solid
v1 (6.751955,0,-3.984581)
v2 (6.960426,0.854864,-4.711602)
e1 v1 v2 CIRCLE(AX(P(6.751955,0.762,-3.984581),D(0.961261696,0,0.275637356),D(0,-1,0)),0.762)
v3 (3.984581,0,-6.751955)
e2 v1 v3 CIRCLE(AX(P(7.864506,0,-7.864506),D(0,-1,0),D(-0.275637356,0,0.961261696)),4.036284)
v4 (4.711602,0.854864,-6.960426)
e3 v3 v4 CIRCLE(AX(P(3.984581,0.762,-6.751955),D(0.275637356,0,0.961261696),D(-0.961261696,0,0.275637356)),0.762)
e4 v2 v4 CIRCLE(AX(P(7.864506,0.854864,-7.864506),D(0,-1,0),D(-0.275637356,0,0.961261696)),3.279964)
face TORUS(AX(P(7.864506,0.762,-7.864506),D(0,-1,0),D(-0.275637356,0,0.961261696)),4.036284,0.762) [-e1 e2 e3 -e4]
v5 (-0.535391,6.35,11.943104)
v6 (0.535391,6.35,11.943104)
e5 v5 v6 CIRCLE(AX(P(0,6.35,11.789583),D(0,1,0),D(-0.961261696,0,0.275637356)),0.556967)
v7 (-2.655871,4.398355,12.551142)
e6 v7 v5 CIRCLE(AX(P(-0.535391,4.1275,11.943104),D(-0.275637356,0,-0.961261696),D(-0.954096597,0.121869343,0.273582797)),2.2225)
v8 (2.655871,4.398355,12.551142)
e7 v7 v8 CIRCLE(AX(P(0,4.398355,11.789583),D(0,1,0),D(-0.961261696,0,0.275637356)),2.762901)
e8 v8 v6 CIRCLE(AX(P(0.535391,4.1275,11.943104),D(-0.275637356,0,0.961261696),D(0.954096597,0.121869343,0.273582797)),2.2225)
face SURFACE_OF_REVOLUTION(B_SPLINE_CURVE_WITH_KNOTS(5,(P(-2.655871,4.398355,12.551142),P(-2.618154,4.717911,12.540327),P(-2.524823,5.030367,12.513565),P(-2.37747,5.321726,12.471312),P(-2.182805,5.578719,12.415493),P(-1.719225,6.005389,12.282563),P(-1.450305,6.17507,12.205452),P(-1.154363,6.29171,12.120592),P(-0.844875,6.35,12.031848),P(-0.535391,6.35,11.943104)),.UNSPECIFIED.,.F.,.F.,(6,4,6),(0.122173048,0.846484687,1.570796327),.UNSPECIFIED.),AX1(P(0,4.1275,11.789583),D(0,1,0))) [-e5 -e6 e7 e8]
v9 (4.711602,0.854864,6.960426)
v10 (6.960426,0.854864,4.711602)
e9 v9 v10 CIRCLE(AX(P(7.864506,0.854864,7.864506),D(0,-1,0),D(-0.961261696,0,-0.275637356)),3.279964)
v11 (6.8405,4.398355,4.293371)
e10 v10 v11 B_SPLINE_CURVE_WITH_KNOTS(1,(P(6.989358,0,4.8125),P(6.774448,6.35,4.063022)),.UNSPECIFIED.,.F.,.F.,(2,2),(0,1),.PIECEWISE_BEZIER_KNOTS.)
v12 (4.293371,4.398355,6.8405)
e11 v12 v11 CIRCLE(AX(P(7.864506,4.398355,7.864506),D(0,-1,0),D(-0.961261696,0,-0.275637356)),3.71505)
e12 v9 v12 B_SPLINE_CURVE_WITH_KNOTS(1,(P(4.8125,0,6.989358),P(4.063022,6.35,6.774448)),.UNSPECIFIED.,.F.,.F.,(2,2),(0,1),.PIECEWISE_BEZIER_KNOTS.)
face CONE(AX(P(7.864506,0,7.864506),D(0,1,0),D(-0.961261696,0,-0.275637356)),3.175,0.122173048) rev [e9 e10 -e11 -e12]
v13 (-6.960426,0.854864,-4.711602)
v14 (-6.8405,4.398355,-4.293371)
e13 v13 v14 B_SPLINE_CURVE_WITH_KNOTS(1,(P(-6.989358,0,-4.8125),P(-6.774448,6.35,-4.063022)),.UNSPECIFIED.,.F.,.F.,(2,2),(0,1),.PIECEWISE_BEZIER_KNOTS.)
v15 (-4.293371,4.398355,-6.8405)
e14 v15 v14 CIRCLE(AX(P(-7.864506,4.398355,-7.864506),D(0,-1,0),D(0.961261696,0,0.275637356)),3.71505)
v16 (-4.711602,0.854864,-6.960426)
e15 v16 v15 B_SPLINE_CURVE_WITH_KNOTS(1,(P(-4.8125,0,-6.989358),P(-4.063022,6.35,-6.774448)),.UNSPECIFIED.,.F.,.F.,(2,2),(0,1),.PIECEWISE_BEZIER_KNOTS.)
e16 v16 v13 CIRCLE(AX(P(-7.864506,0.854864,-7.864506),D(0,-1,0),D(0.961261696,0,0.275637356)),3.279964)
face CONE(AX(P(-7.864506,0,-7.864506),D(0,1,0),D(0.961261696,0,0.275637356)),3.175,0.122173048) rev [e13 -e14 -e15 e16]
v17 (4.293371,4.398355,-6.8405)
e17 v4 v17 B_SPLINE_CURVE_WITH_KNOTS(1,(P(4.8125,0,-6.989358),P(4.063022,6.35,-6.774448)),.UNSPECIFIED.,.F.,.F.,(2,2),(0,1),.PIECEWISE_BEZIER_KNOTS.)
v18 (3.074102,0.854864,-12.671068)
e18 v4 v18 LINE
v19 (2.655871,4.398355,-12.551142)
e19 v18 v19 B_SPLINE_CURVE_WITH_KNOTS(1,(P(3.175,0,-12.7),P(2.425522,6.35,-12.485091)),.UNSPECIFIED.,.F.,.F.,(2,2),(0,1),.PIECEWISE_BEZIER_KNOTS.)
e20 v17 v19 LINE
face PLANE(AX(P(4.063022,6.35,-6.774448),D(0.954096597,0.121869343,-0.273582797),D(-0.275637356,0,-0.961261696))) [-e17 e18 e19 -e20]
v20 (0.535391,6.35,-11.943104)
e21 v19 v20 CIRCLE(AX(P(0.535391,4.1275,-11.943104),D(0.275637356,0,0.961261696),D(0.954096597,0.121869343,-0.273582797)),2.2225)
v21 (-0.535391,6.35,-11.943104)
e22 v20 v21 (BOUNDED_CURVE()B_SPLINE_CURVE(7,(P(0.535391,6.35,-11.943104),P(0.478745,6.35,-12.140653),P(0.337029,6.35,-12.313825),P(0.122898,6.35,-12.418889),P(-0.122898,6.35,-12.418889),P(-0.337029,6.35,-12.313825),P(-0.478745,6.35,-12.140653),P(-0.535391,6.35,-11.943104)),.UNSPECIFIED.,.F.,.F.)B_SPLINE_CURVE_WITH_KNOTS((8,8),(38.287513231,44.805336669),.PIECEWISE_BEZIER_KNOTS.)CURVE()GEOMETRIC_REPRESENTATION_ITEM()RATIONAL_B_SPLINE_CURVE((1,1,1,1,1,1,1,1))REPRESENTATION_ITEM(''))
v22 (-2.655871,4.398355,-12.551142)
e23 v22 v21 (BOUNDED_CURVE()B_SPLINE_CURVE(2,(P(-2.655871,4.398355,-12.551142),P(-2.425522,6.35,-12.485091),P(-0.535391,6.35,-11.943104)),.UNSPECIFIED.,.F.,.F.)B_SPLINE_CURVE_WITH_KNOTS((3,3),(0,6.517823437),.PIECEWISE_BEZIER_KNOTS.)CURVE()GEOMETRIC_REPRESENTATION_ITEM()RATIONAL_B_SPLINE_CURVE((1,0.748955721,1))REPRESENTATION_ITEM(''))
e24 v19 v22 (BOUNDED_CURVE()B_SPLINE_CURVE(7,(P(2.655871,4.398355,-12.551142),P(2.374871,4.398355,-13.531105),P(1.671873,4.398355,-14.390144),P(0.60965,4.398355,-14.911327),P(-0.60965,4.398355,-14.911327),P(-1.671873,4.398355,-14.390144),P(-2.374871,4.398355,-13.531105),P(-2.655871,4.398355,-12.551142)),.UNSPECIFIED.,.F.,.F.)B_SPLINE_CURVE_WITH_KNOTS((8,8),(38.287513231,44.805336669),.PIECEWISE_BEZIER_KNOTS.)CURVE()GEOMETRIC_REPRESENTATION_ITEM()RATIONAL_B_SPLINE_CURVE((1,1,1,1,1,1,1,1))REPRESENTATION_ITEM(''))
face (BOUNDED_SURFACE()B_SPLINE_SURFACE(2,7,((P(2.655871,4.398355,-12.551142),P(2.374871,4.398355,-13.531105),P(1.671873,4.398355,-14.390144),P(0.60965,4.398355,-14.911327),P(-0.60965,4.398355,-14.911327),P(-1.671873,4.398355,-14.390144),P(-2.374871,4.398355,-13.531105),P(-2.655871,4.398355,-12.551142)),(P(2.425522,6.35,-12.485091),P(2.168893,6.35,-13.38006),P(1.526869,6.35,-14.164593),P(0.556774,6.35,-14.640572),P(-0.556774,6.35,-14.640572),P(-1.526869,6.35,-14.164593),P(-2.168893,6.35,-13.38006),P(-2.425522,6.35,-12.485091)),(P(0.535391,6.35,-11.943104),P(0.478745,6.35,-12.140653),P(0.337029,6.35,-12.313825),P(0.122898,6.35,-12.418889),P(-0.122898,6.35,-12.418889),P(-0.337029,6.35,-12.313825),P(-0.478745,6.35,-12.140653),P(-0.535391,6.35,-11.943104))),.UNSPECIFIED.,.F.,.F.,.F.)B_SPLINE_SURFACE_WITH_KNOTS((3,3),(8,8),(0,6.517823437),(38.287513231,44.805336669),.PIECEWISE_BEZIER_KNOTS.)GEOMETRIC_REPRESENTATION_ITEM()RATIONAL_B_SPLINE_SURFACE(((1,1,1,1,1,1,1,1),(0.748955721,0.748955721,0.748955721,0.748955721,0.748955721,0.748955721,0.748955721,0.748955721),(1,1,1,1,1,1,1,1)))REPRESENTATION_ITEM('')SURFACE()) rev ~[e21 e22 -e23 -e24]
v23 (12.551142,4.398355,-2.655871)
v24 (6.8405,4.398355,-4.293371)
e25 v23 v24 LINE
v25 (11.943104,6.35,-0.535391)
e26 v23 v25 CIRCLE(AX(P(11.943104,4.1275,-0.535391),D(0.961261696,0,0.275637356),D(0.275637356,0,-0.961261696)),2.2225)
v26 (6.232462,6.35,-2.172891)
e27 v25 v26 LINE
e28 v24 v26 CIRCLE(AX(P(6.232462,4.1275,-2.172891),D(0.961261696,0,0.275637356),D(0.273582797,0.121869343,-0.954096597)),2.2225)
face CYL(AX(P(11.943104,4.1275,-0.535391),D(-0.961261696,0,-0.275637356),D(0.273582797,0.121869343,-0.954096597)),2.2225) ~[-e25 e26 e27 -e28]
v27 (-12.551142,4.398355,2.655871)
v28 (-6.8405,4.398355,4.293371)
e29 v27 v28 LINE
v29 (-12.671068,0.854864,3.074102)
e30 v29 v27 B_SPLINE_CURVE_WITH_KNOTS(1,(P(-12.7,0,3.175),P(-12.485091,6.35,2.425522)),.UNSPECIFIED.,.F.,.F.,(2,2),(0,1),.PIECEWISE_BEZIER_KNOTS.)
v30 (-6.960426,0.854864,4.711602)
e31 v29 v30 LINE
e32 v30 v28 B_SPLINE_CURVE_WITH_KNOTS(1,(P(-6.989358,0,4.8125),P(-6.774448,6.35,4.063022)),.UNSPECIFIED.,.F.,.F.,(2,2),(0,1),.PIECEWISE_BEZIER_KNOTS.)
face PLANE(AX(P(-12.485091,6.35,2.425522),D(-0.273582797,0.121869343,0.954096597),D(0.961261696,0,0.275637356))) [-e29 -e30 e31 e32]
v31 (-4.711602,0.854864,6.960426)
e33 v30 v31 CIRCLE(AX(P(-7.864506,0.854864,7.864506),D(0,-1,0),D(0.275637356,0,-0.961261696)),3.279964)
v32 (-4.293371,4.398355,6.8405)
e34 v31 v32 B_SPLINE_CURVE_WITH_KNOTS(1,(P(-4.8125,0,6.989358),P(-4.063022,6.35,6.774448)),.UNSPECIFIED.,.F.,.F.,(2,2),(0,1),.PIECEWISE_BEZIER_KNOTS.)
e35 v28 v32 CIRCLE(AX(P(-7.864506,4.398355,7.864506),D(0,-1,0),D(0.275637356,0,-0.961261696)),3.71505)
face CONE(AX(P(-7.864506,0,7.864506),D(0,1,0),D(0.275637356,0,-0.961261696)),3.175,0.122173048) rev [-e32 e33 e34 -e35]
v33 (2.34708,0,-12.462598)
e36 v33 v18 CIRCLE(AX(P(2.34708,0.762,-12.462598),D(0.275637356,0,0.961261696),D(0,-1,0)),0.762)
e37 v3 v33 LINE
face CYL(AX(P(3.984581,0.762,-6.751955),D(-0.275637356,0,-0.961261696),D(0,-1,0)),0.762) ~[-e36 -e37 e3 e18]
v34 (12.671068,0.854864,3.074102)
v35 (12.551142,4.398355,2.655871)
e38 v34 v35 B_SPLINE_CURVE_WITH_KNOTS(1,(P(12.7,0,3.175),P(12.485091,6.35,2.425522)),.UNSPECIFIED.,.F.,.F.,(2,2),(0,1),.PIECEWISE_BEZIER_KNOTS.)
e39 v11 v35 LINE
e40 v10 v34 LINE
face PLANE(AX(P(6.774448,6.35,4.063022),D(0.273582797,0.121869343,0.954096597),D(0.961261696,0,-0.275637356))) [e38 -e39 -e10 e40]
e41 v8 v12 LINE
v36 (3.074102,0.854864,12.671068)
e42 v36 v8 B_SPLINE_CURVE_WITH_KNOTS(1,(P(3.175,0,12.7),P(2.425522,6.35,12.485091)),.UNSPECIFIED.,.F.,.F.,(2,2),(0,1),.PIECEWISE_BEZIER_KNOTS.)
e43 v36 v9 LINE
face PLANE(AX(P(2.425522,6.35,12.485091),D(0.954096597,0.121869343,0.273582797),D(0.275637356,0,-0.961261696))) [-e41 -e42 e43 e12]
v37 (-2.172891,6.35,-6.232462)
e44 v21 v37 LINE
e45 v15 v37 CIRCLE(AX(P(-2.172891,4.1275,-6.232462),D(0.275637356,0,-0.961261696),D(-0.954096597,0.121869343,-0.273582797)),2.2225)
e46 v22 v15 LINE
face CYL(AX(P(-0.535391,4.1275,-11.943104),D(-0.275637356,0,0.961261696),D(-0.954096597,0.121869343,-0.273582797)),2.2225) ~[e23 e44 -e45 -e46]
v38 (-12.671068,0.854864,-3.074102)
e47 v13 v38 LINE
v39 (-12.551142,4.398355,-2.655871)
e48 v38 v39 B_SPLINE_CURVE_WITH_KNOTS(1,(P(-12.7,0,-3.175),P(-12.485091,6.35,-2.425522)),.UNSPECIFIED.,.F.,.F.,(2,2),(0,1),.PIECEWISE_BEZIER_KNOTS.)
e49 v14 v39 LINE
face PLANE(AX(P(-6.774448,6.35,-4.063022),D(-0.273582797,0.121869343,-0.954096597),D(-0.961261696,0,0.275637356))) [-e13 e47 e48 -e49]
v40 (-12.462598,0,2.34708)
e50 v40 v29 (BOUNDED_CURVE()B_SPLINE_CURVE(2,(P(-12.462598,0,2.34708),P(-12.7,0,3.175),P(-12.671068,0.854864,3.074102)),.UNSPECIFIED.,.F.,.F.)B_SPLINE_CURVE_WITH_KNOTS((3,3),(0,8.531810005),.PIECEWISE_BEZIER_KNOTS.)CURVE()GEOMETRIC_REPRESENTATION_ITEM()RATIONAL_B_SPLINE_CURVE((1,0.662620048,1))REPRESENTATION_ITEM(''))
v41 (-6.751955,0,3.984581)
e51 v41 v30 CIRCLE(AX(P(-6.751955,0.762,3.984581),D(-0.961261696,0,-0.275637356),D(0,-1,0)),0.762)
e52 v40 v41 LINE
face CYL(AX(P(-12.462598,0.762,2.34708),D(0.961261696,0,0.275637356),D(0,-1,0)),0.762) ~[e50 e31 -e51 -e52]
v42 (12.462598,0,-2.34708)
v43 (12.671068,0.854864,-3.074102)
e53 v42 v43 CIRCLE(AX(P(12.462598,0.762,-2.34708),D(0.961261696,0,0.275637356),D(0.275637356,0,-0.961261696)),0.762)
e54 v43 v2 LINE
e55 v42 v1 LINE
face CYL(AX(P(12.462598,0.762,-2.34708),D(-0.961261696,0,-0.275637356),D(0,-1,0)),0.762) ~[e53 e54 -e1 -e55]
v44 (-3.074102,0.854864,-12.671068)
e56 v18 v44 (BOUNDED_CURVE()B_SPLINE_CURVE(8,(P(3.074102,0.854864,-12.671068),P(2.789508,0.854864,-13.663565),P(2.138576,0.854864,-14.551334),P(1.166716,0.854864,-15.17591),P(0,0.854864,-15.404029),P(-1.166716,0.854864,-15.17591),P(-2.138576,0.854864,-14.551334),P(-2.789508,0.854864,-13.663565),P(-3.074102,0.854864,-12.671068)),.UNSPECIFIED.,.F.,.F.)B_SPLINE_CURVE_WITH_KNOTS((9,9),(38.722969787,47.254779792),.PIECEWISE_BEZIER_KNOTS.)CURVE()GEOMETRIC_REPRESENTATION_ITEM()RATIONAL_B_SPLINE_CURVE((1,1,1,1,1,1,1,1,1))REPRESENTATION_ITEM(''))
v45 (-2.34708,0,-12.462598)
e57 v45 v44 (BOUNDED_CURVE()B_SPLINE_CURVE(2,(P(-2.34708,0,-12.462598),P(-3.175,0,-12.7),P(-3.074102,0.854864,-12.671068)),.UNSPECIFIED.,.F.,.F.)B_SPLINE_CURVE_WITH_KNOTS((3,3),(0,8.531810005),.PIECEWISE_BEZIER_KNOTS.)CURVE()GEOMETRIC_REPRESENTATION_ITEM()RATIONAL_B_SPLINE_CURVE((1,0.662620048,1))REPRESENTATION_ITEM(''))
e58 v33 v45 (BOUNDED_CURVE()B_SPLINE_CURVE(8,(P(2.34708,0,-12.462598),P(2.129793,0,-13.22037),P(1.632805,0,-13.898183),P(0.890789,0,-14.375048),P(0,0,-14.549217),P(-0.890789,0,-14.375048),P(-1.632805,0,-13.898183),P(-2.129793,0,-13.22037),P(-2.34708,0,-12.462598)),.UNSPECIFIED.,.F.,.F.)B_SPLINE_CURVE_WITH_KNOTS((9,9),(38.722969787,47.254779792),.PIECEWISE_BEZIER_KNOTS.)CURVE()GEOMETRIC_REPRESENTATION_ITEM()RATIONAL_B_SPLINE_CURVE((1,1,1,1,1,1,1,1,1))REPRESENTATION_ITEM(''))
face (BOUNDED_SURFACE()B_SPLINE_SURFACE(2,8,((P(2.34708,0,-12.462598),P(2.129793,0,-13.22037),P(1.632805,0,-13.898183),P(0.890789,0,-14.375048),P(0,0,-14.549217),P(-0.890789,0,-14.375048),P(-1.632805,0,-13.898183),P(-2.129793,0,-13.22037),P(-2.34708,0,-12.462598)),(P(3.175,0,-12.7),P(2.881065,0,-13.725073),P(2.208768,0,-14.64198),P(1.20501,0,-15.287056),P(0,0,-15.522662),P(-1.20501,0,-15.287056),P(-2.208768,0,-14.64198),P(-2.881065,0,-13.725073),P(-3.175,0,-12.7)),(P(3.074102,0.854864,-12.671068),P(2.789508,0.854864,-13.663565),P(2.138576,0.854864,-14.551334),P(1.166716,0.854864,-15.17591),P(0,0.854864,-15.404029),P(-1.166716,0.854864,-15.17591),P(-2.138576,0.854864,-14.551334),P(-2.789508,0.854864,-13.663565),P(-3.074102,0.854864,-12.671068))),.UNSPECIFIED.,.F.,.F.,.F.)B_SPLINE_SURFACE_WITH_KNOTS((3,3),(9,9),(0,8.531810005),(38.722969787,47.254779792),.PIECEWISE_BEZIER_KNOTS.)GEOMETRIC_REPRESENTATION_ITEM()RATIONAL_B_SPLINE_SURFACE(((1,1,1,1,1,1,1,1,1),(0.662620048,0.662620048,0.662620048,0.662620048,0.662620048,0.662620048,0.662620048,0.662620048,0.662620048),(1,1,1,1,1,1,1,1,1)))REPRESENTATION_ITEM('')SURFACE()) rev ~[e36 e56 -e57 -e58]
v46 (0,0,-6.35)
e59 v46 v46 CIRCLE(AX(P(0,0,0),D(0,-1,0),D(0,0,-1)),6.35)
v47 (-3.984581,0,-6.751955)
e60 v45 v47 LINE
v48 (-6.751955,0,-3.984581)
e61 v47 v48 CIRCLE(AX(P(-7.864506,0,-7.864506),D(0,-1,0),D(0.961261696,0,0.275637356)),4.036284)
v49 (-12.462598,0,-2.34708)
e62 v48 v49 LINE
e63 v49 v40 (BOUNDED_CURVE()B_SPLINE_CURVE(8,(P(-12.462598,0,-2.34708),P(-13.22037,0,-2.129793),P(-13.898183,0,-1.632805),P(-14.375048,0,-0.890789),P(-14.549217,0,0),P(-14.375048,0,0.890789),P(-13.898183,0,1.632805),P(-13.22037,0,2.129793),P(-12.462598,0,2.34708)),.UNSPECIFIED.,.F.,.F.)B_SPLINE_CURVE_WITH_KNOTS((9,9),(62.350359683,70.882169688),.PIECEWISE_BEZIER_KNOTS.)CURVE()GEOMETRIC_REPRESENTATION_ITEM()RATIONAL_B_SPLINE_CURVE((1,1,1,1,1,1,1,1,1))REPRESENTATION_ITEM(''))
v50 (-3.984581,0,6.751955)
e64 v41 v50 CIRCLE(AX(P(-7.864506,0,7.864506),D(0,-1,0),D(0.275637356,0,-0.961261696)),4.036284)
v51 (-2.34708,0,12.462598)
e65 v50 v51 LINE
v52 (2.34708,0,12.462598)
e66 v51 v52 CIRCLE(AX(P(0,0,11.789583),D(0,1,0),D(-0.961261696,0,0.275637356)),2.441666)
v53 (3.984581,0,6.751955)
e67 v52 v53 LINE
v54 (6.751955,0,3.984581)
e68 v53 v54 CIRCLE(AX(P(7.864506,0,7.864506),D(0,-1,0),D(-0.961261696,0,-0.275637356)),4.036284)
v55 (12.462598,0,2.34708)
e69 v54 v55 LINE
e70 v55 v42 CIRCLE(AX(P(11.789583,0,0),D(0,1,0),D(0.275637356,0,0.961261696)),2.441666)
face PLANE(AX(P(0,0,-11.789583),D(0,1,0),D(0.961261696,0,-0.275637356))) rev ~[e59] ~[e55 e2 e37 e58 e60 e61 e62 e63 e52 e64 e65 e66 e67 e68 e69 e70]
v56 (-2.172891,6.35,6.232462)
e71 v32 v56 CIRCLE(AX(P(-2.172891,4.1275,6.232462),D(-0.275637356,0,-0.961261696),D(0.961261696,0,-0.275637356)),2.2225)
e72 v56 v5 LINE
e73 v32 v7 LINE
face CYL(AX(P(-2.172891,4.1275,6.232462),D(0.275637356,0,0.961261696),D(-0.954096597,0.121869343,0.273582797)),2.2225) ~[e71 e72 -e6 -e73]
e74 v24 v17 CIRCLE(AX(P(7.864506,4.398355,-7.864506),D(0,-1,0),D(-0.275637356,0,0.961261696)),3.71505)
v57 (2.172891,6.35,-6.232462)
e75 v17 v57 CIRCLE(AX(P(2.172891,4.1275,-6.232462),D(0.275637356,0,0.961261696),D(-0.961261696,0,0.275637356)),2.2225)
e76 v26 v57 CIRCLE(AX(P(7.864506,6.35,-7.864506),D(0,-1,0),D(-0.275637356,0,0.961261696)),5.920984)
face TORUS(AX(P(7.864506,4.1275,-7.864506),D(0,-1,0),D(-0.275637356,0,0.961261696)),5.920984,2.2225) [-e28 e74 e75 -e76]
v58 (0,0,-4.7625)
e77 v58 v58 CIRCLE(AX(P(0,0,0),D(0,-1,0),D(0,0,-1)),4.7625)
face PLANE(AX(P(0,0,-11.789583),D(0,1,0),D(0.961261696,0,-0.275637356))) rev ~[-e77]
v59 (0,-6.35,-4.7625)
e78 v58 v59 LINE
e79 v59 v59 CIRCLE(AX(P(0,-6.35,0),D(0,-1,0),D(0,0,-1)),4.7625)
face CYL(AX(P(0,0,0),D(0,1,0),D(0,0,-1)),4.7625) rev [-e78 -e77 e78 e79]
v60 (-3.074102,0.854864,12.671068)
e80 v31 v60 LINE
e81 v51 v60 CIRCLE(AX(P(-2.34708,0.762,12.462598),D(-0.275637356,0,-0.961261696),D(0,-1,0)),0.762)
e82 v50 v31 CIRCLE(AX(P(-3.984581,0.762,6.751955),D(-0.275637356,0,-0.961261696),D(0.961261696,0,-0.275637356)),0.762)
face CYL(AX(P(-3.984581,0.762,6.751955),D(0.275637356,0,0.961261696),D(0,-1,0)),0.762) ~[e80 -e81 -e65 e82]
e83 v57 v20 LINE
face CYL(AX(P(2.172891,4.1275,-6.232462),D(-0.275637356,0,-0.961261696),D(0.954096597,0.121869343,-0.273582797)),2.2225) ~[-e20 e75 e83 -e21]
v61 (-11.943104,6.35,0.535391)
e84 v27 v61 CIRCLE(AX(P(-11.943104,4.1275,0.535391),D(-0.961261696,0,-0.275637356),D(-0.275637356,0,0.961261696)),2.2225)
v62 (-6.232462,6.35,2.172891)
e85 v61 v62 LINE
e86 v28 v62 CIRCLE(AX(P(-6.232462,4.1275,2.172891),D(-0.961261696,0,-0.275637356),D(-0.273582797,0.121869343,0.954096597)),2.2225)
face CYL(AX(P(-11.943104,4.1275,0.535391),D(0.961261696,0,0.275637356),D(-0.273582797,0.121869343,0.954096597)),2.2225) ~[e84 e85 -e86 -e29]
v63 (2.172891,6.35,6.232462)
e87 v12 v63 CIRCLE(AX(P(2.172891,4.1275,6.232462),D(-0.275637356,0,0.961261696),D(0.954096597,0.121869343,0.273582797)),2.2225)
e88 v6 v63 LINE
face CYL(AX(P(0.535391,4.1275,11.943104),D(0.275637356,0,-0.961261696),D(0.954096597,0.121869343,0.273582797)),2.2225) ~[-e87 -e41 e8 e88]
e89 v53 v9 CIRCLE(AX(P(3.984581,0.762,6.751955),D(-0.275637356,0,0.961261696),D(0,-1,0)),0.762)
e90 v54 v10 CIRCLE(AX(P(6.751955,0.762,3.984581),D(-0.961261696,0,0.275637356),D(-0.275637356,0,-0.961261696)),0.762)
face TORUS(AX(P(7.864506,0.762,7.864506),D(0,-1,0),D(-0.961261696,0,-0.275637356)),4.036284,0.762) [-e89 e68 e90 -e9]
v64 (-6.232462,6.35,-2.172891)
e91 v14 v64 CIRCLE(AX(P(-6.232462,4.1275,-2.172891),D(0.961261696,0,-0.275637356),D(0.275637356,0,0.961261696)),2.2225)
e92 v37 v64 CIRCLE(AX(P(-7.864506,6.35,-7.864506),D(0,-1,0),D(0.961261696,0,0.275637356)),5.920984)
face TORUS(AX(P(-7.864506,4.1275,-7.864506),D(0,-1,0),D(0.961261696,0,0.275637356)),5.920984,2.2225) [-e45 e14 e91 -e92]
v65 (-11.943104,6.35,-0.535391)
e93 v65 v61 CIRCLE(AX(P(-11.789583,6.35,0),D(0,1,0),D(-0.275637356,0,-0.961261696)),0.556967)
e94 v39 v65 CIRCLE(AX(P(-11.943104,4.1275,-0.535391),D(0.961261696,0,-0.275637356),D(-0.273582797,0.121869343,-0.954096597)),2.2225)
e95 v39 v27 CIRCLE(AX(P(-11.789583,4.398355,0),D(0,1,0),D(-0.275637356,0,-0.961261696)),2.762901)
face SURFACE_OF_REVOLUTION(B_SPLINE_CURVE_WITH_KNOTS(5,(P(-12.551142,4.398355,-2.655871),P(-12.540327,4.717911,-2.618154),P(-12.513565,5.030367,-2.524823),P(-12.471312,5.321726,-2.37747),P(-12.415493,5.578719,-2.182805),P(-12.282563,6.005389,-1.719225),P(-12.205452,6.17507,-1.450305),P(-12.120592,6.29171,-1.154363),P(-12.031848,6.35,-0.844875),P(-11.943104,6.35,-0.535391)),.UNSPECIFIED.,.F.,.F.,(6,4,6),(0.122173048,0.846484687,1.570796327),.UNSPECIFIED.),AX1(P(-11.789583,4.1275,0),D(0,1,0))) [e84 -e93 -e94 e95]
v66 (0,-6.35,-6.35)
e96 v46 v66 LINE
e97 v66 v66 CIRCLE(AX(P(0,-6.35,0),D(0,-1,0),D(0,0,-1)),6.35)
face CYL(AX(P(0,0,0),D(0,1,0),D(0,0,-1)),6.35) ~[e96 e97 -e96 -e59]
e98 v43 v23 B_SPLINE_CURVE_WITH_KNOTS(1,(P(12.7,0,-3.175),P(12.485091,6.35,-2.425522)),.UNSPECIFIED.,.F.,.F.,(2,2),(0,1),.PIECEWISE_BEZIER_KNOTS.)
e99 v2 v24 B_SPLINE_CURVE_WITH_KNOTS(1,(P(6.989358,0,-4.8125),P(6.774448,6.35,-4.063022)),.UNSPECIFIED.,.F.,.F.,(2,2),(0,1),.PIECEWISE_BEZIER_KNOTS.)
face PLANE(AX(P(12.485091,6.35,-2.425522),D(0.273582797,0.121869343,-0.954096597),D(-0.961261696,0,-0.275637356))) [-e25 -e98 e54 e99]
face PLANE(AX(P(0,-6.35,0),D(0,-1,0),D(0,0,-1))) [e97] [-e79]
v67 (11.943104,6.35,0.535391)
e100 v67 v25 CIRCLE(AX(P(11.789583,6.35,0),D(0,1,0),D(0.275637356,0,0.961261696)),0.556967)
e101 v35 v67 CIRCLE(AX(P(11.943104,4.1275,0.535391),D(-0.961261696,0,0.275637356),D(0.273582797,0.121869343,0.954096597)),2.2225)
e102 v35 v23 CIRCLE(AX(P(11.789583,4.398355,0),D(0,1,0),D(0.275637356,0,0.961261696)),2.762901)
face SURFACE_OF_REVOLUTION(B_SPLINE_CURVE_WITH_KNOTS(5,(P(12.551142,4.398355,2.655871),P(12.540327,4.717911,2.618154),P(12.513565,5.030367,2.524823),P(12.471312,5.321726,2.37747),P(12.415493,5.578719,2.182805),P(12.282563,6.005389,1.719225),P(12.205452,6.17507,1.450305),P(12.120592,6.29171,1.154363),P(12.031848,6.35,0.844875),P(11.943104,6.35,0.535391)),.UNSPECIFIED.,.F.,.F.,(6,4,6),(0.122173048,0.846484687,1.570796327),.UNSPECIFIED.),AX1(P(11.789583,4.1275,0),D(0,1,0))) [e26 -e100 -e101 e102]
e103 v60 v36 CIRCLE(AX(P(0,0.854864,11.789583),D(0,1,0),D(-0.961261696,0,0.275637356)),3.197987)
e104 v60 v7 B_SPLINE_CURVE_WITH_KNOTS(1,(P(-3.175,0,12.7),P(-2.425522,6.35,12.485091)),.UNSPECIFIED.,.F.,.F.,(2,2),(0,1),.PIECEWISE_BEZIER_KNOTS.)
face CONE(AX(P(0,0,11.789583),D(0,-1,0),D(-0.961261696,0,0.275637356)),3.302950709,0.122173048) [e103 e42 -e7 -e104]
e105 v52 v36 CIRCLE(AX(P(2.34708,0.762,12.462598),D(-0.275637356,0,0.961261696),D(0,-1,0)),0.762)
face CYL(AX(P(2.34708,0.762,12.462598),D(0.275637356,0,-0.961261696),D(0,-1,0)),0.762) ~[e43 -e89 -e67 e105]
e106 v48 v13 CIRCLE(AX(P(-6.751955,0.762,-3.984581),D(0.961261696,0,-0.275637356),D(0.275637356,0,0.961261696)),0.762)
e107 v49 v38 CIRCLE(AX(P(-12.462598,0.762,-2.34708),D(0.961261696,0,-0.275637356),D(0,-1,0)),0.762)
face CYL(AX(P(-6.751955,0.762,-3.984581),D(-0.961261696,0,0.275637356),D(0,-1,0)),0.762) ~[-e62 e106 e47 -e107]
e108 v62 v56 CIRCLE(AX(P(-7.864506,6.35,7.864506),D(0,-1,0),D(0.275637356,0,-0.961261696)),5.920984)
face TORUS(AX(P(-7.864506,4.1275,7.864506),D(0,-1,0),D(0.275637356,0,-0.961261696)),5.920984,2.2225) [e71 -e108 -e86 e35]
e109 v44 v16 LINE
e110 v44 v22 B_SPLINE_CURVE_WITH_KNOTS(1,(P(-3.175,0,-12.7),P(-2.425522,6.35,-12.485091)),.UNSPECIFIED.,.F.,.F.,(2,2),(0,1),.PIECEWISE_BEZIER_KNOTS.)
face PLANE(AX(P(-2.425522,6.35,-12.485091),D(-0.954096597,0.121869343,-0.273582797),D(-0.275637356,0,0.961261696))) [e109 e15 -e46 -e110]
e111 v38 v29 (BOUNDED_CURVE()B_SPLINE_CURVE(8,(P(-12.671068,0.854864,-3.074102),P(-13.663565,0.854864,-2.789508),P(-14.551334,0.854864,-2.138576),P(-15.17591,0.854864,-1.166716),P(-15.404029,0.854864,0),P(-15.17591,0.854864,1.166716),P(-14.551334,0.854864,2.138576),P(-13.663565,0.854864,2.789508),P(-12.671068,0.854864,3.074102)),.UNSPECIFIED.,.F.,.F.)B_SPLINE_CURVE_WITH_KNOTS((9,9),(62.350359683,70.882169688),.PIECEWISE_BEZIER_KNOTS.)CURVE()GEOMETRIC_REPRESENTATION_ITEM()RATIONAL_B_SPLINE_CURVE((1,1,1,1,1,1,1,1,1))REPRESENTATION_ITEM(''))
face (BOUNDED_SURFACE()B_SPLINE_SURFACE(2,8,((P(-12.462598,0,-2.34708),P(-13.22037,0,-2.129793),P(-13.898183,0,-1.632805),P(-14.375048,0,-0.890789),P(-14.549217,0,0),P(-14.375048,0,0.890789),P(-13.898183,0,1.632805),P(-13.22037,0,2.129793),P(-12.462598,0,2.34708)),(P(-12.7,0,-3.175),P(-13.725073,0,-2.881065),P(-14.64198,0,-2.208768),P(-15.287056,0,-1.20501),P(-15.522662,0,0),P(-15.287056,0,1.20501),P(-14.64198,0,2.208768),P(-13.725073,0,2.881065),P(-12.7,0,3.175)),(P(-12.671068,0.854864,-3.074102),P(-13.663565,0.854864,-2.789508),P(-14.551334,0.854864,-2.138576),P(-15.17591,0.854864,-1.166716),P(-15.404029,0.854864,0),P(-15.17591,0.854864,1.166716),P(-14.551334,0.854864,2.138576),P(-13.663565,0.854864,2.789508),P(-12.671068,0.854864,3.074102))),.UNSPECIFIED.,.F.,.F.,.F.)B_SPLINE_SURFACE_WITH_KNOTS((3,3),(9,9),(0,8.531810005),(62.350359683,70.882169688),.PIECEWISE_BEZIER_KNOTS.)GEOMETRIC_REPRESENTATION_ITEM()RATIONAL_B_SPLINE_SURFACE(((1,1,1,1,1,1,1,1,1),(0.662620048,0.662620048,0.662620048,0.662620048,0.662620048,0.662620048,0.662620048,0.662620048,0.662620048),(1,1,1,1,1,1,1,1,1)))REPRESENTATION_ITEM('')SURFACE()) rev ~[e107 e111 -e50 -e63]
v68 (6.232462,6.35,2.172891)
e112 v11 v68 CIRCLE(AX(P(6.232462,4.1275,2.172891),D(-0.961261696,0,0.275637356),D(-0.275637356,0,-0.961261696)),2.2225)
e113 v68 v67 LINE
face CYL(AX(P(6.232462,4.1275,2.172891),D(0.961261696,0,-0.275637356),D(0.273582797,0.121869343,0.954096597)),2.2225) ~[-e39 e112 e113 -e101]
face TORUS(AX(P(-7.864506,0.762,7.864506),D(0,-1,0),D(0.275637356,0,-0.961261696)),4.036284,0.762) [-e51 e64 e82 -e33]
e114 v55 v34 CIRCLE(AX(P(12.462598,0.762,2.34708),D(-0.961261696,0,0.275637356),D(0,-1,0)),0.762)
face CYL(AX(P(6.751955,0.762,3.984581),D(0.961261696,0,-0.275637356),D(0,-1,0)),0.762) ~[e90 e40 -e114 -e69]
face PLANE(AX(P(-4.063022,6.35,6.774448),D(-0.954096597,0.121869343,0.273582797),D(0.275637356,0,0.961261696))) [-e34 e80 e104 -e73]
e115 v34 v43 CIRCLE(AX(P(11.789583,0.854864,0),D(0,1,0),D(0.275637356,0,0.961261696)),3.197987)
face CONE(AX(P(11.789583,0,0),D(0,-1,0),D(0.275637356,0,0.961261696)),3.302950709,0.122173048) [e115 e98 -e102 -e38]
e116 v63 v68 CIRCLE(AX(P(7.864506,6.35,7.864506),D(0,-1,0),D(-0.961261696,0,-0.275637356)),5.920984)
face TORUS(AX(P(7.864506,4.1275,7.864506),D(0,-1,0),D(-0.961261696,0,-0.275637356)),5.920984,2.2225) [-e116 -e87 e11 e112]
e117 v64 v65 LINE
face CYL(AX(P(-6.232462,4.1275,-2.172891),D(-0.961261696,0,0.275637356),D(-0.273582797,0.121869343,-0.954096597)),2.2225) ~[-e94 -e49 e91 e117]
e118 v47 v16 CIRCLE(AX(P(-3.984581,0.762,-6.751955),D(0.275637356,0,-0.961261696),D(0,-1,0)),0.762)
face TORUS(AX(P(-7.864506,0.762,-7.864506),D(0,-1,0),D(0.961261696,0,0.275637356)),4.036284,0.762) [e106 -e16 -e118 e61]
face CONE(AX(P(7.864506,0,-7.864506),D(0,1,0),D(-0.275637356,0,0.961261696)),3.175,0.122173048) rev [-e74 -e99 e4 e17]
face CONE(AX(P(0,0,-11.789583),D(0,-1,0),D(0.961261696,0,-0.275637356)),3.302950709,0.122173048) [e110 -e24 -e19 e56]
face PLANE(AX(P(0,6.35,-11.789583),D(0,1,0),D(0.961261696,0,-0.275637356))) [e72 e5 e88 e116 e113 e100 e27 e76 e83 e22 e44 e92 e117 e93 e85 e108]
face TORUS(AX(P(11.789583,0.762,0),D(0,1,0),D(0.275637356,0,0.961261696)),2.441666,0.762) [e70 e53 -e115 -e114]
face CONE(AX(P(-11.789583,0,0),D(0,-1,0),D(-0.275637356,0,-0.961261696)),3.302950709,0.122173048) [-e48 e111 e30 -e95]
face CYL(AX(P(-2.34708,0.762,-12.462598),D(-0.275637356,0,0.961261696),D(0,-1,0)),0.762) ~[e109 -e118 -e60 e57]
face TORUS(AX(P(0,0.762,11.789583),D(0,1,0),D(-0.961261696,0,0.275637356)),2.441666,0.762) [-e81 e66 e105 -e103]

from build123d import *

# Parameters (mm, degrees)
EXTRUDE1_DEPTH = 6.35
EXTRUDE1_TAPER = 7.000000000000015
FILLET1_R      = 2.2224999999999997
SKETCH2_R      = 6.35
SKETCH2_R_2    = 4.7625
EXTRUDE2_DEPTH = 6.35
FILLET2_R      = 0.762


with BuildPart() as part:
    # Sketch1 → Extrude1 (new body)
    with BuildSketch(Plane(origin=(0, 0, 0), x_dir=(1, 0, 0), z_dir=(0, 1, 0))):
        with BuildLine():
            ThreePointArc((3.174999999999997, 12.7), (2.4e-15, 15.092534109076349), (-3.17499999999998, 12.7))
            Line((-3.17499999999998, 12.7), (-4.812500349494196, 6.989357629379411))
            ThreePointArc((-4.812500349494196, 6.989357629379411), (-5.619442203831074, 5.619442203831092), (-6.989357629379396, 4.812500349494221))
            Line((-6.989357629379396, 4.812500349494221), (-12.699999999999969, 3.1750000000000442))
            ThreePointArc((-12.699999999999969, 3.1750000000000442), (-15.092534109076396, -4e-16), (-12.699999999999969, -3.1750000000000442))
            Line((-12.699999999999969, -3.1750000000000442), (-6.989357629379396, -4.812500349494221))
            ThreePointArc((-6.989357629379396, -4.812500349494221), (-5.619442203831074, -5.619442203831092), (-4.812500349494196, -6.989357629379411))
            Line((-4.812500349494196, -6.989357629379411), (-3.17499999999998, -12.7))
            ThreePointArc((-3.17499999999998, -12.7), (3.14e-15, -15.092534109076366), (3.174999999999997, -12.7))
            Line((3.174999999999997, -12.7), (4.812500349494196, -6.989357629379411))
            ThreePointArc((4.812500349494196, -6.989357629379411), (5.619442203831074, -5.619442203831092), (6.989357629379396, -4.812500349494221))
            Line((6.989357629379396, -4.812500349494221), (12.699999999999985, -3.1750000000000442))
            ThreePointArc((12.699999999999985, -3.1750000000000442), (15.0925341090764, 0), (12.699999999999985, 3.1750000000000442))
            Line((12.699999999999985, 3.1750000000000442), (6.989357629379396, 4.812500349494221))
            ThreePointArc((6.989357629379396, 4.812500349494221), (5.619442203831074, 5.619442203831092), (4.812500349494196, 6.989357629379411))
            Line((4.812500349494196, 6.989357629379411), (3.174999999999997, 12.7))
        make_face()
    extrude(amount=EXTRUDE1_DEPTH, taper=EXTRUDE1_TAPER)

    # Fillet1
    fillet1_edges = [part.edges().sort_by_distance(p)[0] for p in [
        (3.2442717699186887, 6.35, 9.629769340379289),
        (5.068123801520522, 6.35, 5.068123801520543),
        (9.629769340379273, 6.35, 3.244271769918725),
        (14.312852147342955, 6.35, 1.33e-15),
        (9.629769340379273, 6.35, -3.2442717699187247),
        (5.068123801520526, 6.35, -5.06812380152054),
        (3.2442717699186923, 6.35, -9.629769340379278),
        (1.443e-14, 6.35, -14.312852147342902),
        (-3.2442717699186843, 6.35, -9.629769340379275),
        (-5.068123801520527, 6.35, -5.068123801520538),
        (-9.629769340379273, 6.35, -3.244271769918723),
        (-14.31285214734295, 6.35, 2.2e-16),
        (-9.629769340379273, 6.35, 3.244271769918723),
        (-5.068123801520526, 6.35, 5.06812380152054),
        (-3.2442717699186803, 6.35, 9.629769340379287),
        (1.155e-14, 6.35, 14.312852147342921),
    ]]
    fillet(fillet1_edges, radius=FILLET1_R)

    # Sketch2 → Extrude2 (add)
    with BuildSketch(Plane.XZ):
        with Locations(Location((0, 0, 0), (0, 0, 270))):
            Circle(SKETCH2_R)
        with Locations(Location((0, 0, 0), (0, 0, 270))):
            Circle(SKETCH2_R_2, mode=Mode.SUBTRACT)
    extrude(amount=EXTRUDE2_DEPTH)

    # Fillet2
    fillet2_edges = [part.edges().sort_by_distance(p)[0] for p in [
        (3.9937501747470967, 0, 9.844678814689704),
        (5.619442203831073, 0, 5.619442203831092),
        (7.99e-15, 0, 15.092534109076366),
        (-3.993750174747088, 0, 9.844678814689704),
        (9.84467881468969, 0, 3.9937501747471327),
        (-5.619442203831074, 0, 5.619442203831092),
        (15.0925341090764, 0, 3.3e-16),
        (-9.844678814689683, 0, 3.9937501747471327),
        (9.84467881468969, 0, -3.9937501747471327),
        (-15.092534109076396, 0, -3.3e-16),
        (5.619442203831074, 0, -5.619442203831092),
        (-9.844678814689683, 0, -3.9937501747471327),
        (3.9937501747470967, 0, -9.844678814689704),
        (-5.619442203831073, 0, -5.619442203831092),
        (8.88e-15, 0, -15.092534109076349),
        (-3.9937501747470883, 0, -9.844678814689704),
    ]]
    fillet(fillet2_edges, radius=FILLET2_R)


solid = part.part
